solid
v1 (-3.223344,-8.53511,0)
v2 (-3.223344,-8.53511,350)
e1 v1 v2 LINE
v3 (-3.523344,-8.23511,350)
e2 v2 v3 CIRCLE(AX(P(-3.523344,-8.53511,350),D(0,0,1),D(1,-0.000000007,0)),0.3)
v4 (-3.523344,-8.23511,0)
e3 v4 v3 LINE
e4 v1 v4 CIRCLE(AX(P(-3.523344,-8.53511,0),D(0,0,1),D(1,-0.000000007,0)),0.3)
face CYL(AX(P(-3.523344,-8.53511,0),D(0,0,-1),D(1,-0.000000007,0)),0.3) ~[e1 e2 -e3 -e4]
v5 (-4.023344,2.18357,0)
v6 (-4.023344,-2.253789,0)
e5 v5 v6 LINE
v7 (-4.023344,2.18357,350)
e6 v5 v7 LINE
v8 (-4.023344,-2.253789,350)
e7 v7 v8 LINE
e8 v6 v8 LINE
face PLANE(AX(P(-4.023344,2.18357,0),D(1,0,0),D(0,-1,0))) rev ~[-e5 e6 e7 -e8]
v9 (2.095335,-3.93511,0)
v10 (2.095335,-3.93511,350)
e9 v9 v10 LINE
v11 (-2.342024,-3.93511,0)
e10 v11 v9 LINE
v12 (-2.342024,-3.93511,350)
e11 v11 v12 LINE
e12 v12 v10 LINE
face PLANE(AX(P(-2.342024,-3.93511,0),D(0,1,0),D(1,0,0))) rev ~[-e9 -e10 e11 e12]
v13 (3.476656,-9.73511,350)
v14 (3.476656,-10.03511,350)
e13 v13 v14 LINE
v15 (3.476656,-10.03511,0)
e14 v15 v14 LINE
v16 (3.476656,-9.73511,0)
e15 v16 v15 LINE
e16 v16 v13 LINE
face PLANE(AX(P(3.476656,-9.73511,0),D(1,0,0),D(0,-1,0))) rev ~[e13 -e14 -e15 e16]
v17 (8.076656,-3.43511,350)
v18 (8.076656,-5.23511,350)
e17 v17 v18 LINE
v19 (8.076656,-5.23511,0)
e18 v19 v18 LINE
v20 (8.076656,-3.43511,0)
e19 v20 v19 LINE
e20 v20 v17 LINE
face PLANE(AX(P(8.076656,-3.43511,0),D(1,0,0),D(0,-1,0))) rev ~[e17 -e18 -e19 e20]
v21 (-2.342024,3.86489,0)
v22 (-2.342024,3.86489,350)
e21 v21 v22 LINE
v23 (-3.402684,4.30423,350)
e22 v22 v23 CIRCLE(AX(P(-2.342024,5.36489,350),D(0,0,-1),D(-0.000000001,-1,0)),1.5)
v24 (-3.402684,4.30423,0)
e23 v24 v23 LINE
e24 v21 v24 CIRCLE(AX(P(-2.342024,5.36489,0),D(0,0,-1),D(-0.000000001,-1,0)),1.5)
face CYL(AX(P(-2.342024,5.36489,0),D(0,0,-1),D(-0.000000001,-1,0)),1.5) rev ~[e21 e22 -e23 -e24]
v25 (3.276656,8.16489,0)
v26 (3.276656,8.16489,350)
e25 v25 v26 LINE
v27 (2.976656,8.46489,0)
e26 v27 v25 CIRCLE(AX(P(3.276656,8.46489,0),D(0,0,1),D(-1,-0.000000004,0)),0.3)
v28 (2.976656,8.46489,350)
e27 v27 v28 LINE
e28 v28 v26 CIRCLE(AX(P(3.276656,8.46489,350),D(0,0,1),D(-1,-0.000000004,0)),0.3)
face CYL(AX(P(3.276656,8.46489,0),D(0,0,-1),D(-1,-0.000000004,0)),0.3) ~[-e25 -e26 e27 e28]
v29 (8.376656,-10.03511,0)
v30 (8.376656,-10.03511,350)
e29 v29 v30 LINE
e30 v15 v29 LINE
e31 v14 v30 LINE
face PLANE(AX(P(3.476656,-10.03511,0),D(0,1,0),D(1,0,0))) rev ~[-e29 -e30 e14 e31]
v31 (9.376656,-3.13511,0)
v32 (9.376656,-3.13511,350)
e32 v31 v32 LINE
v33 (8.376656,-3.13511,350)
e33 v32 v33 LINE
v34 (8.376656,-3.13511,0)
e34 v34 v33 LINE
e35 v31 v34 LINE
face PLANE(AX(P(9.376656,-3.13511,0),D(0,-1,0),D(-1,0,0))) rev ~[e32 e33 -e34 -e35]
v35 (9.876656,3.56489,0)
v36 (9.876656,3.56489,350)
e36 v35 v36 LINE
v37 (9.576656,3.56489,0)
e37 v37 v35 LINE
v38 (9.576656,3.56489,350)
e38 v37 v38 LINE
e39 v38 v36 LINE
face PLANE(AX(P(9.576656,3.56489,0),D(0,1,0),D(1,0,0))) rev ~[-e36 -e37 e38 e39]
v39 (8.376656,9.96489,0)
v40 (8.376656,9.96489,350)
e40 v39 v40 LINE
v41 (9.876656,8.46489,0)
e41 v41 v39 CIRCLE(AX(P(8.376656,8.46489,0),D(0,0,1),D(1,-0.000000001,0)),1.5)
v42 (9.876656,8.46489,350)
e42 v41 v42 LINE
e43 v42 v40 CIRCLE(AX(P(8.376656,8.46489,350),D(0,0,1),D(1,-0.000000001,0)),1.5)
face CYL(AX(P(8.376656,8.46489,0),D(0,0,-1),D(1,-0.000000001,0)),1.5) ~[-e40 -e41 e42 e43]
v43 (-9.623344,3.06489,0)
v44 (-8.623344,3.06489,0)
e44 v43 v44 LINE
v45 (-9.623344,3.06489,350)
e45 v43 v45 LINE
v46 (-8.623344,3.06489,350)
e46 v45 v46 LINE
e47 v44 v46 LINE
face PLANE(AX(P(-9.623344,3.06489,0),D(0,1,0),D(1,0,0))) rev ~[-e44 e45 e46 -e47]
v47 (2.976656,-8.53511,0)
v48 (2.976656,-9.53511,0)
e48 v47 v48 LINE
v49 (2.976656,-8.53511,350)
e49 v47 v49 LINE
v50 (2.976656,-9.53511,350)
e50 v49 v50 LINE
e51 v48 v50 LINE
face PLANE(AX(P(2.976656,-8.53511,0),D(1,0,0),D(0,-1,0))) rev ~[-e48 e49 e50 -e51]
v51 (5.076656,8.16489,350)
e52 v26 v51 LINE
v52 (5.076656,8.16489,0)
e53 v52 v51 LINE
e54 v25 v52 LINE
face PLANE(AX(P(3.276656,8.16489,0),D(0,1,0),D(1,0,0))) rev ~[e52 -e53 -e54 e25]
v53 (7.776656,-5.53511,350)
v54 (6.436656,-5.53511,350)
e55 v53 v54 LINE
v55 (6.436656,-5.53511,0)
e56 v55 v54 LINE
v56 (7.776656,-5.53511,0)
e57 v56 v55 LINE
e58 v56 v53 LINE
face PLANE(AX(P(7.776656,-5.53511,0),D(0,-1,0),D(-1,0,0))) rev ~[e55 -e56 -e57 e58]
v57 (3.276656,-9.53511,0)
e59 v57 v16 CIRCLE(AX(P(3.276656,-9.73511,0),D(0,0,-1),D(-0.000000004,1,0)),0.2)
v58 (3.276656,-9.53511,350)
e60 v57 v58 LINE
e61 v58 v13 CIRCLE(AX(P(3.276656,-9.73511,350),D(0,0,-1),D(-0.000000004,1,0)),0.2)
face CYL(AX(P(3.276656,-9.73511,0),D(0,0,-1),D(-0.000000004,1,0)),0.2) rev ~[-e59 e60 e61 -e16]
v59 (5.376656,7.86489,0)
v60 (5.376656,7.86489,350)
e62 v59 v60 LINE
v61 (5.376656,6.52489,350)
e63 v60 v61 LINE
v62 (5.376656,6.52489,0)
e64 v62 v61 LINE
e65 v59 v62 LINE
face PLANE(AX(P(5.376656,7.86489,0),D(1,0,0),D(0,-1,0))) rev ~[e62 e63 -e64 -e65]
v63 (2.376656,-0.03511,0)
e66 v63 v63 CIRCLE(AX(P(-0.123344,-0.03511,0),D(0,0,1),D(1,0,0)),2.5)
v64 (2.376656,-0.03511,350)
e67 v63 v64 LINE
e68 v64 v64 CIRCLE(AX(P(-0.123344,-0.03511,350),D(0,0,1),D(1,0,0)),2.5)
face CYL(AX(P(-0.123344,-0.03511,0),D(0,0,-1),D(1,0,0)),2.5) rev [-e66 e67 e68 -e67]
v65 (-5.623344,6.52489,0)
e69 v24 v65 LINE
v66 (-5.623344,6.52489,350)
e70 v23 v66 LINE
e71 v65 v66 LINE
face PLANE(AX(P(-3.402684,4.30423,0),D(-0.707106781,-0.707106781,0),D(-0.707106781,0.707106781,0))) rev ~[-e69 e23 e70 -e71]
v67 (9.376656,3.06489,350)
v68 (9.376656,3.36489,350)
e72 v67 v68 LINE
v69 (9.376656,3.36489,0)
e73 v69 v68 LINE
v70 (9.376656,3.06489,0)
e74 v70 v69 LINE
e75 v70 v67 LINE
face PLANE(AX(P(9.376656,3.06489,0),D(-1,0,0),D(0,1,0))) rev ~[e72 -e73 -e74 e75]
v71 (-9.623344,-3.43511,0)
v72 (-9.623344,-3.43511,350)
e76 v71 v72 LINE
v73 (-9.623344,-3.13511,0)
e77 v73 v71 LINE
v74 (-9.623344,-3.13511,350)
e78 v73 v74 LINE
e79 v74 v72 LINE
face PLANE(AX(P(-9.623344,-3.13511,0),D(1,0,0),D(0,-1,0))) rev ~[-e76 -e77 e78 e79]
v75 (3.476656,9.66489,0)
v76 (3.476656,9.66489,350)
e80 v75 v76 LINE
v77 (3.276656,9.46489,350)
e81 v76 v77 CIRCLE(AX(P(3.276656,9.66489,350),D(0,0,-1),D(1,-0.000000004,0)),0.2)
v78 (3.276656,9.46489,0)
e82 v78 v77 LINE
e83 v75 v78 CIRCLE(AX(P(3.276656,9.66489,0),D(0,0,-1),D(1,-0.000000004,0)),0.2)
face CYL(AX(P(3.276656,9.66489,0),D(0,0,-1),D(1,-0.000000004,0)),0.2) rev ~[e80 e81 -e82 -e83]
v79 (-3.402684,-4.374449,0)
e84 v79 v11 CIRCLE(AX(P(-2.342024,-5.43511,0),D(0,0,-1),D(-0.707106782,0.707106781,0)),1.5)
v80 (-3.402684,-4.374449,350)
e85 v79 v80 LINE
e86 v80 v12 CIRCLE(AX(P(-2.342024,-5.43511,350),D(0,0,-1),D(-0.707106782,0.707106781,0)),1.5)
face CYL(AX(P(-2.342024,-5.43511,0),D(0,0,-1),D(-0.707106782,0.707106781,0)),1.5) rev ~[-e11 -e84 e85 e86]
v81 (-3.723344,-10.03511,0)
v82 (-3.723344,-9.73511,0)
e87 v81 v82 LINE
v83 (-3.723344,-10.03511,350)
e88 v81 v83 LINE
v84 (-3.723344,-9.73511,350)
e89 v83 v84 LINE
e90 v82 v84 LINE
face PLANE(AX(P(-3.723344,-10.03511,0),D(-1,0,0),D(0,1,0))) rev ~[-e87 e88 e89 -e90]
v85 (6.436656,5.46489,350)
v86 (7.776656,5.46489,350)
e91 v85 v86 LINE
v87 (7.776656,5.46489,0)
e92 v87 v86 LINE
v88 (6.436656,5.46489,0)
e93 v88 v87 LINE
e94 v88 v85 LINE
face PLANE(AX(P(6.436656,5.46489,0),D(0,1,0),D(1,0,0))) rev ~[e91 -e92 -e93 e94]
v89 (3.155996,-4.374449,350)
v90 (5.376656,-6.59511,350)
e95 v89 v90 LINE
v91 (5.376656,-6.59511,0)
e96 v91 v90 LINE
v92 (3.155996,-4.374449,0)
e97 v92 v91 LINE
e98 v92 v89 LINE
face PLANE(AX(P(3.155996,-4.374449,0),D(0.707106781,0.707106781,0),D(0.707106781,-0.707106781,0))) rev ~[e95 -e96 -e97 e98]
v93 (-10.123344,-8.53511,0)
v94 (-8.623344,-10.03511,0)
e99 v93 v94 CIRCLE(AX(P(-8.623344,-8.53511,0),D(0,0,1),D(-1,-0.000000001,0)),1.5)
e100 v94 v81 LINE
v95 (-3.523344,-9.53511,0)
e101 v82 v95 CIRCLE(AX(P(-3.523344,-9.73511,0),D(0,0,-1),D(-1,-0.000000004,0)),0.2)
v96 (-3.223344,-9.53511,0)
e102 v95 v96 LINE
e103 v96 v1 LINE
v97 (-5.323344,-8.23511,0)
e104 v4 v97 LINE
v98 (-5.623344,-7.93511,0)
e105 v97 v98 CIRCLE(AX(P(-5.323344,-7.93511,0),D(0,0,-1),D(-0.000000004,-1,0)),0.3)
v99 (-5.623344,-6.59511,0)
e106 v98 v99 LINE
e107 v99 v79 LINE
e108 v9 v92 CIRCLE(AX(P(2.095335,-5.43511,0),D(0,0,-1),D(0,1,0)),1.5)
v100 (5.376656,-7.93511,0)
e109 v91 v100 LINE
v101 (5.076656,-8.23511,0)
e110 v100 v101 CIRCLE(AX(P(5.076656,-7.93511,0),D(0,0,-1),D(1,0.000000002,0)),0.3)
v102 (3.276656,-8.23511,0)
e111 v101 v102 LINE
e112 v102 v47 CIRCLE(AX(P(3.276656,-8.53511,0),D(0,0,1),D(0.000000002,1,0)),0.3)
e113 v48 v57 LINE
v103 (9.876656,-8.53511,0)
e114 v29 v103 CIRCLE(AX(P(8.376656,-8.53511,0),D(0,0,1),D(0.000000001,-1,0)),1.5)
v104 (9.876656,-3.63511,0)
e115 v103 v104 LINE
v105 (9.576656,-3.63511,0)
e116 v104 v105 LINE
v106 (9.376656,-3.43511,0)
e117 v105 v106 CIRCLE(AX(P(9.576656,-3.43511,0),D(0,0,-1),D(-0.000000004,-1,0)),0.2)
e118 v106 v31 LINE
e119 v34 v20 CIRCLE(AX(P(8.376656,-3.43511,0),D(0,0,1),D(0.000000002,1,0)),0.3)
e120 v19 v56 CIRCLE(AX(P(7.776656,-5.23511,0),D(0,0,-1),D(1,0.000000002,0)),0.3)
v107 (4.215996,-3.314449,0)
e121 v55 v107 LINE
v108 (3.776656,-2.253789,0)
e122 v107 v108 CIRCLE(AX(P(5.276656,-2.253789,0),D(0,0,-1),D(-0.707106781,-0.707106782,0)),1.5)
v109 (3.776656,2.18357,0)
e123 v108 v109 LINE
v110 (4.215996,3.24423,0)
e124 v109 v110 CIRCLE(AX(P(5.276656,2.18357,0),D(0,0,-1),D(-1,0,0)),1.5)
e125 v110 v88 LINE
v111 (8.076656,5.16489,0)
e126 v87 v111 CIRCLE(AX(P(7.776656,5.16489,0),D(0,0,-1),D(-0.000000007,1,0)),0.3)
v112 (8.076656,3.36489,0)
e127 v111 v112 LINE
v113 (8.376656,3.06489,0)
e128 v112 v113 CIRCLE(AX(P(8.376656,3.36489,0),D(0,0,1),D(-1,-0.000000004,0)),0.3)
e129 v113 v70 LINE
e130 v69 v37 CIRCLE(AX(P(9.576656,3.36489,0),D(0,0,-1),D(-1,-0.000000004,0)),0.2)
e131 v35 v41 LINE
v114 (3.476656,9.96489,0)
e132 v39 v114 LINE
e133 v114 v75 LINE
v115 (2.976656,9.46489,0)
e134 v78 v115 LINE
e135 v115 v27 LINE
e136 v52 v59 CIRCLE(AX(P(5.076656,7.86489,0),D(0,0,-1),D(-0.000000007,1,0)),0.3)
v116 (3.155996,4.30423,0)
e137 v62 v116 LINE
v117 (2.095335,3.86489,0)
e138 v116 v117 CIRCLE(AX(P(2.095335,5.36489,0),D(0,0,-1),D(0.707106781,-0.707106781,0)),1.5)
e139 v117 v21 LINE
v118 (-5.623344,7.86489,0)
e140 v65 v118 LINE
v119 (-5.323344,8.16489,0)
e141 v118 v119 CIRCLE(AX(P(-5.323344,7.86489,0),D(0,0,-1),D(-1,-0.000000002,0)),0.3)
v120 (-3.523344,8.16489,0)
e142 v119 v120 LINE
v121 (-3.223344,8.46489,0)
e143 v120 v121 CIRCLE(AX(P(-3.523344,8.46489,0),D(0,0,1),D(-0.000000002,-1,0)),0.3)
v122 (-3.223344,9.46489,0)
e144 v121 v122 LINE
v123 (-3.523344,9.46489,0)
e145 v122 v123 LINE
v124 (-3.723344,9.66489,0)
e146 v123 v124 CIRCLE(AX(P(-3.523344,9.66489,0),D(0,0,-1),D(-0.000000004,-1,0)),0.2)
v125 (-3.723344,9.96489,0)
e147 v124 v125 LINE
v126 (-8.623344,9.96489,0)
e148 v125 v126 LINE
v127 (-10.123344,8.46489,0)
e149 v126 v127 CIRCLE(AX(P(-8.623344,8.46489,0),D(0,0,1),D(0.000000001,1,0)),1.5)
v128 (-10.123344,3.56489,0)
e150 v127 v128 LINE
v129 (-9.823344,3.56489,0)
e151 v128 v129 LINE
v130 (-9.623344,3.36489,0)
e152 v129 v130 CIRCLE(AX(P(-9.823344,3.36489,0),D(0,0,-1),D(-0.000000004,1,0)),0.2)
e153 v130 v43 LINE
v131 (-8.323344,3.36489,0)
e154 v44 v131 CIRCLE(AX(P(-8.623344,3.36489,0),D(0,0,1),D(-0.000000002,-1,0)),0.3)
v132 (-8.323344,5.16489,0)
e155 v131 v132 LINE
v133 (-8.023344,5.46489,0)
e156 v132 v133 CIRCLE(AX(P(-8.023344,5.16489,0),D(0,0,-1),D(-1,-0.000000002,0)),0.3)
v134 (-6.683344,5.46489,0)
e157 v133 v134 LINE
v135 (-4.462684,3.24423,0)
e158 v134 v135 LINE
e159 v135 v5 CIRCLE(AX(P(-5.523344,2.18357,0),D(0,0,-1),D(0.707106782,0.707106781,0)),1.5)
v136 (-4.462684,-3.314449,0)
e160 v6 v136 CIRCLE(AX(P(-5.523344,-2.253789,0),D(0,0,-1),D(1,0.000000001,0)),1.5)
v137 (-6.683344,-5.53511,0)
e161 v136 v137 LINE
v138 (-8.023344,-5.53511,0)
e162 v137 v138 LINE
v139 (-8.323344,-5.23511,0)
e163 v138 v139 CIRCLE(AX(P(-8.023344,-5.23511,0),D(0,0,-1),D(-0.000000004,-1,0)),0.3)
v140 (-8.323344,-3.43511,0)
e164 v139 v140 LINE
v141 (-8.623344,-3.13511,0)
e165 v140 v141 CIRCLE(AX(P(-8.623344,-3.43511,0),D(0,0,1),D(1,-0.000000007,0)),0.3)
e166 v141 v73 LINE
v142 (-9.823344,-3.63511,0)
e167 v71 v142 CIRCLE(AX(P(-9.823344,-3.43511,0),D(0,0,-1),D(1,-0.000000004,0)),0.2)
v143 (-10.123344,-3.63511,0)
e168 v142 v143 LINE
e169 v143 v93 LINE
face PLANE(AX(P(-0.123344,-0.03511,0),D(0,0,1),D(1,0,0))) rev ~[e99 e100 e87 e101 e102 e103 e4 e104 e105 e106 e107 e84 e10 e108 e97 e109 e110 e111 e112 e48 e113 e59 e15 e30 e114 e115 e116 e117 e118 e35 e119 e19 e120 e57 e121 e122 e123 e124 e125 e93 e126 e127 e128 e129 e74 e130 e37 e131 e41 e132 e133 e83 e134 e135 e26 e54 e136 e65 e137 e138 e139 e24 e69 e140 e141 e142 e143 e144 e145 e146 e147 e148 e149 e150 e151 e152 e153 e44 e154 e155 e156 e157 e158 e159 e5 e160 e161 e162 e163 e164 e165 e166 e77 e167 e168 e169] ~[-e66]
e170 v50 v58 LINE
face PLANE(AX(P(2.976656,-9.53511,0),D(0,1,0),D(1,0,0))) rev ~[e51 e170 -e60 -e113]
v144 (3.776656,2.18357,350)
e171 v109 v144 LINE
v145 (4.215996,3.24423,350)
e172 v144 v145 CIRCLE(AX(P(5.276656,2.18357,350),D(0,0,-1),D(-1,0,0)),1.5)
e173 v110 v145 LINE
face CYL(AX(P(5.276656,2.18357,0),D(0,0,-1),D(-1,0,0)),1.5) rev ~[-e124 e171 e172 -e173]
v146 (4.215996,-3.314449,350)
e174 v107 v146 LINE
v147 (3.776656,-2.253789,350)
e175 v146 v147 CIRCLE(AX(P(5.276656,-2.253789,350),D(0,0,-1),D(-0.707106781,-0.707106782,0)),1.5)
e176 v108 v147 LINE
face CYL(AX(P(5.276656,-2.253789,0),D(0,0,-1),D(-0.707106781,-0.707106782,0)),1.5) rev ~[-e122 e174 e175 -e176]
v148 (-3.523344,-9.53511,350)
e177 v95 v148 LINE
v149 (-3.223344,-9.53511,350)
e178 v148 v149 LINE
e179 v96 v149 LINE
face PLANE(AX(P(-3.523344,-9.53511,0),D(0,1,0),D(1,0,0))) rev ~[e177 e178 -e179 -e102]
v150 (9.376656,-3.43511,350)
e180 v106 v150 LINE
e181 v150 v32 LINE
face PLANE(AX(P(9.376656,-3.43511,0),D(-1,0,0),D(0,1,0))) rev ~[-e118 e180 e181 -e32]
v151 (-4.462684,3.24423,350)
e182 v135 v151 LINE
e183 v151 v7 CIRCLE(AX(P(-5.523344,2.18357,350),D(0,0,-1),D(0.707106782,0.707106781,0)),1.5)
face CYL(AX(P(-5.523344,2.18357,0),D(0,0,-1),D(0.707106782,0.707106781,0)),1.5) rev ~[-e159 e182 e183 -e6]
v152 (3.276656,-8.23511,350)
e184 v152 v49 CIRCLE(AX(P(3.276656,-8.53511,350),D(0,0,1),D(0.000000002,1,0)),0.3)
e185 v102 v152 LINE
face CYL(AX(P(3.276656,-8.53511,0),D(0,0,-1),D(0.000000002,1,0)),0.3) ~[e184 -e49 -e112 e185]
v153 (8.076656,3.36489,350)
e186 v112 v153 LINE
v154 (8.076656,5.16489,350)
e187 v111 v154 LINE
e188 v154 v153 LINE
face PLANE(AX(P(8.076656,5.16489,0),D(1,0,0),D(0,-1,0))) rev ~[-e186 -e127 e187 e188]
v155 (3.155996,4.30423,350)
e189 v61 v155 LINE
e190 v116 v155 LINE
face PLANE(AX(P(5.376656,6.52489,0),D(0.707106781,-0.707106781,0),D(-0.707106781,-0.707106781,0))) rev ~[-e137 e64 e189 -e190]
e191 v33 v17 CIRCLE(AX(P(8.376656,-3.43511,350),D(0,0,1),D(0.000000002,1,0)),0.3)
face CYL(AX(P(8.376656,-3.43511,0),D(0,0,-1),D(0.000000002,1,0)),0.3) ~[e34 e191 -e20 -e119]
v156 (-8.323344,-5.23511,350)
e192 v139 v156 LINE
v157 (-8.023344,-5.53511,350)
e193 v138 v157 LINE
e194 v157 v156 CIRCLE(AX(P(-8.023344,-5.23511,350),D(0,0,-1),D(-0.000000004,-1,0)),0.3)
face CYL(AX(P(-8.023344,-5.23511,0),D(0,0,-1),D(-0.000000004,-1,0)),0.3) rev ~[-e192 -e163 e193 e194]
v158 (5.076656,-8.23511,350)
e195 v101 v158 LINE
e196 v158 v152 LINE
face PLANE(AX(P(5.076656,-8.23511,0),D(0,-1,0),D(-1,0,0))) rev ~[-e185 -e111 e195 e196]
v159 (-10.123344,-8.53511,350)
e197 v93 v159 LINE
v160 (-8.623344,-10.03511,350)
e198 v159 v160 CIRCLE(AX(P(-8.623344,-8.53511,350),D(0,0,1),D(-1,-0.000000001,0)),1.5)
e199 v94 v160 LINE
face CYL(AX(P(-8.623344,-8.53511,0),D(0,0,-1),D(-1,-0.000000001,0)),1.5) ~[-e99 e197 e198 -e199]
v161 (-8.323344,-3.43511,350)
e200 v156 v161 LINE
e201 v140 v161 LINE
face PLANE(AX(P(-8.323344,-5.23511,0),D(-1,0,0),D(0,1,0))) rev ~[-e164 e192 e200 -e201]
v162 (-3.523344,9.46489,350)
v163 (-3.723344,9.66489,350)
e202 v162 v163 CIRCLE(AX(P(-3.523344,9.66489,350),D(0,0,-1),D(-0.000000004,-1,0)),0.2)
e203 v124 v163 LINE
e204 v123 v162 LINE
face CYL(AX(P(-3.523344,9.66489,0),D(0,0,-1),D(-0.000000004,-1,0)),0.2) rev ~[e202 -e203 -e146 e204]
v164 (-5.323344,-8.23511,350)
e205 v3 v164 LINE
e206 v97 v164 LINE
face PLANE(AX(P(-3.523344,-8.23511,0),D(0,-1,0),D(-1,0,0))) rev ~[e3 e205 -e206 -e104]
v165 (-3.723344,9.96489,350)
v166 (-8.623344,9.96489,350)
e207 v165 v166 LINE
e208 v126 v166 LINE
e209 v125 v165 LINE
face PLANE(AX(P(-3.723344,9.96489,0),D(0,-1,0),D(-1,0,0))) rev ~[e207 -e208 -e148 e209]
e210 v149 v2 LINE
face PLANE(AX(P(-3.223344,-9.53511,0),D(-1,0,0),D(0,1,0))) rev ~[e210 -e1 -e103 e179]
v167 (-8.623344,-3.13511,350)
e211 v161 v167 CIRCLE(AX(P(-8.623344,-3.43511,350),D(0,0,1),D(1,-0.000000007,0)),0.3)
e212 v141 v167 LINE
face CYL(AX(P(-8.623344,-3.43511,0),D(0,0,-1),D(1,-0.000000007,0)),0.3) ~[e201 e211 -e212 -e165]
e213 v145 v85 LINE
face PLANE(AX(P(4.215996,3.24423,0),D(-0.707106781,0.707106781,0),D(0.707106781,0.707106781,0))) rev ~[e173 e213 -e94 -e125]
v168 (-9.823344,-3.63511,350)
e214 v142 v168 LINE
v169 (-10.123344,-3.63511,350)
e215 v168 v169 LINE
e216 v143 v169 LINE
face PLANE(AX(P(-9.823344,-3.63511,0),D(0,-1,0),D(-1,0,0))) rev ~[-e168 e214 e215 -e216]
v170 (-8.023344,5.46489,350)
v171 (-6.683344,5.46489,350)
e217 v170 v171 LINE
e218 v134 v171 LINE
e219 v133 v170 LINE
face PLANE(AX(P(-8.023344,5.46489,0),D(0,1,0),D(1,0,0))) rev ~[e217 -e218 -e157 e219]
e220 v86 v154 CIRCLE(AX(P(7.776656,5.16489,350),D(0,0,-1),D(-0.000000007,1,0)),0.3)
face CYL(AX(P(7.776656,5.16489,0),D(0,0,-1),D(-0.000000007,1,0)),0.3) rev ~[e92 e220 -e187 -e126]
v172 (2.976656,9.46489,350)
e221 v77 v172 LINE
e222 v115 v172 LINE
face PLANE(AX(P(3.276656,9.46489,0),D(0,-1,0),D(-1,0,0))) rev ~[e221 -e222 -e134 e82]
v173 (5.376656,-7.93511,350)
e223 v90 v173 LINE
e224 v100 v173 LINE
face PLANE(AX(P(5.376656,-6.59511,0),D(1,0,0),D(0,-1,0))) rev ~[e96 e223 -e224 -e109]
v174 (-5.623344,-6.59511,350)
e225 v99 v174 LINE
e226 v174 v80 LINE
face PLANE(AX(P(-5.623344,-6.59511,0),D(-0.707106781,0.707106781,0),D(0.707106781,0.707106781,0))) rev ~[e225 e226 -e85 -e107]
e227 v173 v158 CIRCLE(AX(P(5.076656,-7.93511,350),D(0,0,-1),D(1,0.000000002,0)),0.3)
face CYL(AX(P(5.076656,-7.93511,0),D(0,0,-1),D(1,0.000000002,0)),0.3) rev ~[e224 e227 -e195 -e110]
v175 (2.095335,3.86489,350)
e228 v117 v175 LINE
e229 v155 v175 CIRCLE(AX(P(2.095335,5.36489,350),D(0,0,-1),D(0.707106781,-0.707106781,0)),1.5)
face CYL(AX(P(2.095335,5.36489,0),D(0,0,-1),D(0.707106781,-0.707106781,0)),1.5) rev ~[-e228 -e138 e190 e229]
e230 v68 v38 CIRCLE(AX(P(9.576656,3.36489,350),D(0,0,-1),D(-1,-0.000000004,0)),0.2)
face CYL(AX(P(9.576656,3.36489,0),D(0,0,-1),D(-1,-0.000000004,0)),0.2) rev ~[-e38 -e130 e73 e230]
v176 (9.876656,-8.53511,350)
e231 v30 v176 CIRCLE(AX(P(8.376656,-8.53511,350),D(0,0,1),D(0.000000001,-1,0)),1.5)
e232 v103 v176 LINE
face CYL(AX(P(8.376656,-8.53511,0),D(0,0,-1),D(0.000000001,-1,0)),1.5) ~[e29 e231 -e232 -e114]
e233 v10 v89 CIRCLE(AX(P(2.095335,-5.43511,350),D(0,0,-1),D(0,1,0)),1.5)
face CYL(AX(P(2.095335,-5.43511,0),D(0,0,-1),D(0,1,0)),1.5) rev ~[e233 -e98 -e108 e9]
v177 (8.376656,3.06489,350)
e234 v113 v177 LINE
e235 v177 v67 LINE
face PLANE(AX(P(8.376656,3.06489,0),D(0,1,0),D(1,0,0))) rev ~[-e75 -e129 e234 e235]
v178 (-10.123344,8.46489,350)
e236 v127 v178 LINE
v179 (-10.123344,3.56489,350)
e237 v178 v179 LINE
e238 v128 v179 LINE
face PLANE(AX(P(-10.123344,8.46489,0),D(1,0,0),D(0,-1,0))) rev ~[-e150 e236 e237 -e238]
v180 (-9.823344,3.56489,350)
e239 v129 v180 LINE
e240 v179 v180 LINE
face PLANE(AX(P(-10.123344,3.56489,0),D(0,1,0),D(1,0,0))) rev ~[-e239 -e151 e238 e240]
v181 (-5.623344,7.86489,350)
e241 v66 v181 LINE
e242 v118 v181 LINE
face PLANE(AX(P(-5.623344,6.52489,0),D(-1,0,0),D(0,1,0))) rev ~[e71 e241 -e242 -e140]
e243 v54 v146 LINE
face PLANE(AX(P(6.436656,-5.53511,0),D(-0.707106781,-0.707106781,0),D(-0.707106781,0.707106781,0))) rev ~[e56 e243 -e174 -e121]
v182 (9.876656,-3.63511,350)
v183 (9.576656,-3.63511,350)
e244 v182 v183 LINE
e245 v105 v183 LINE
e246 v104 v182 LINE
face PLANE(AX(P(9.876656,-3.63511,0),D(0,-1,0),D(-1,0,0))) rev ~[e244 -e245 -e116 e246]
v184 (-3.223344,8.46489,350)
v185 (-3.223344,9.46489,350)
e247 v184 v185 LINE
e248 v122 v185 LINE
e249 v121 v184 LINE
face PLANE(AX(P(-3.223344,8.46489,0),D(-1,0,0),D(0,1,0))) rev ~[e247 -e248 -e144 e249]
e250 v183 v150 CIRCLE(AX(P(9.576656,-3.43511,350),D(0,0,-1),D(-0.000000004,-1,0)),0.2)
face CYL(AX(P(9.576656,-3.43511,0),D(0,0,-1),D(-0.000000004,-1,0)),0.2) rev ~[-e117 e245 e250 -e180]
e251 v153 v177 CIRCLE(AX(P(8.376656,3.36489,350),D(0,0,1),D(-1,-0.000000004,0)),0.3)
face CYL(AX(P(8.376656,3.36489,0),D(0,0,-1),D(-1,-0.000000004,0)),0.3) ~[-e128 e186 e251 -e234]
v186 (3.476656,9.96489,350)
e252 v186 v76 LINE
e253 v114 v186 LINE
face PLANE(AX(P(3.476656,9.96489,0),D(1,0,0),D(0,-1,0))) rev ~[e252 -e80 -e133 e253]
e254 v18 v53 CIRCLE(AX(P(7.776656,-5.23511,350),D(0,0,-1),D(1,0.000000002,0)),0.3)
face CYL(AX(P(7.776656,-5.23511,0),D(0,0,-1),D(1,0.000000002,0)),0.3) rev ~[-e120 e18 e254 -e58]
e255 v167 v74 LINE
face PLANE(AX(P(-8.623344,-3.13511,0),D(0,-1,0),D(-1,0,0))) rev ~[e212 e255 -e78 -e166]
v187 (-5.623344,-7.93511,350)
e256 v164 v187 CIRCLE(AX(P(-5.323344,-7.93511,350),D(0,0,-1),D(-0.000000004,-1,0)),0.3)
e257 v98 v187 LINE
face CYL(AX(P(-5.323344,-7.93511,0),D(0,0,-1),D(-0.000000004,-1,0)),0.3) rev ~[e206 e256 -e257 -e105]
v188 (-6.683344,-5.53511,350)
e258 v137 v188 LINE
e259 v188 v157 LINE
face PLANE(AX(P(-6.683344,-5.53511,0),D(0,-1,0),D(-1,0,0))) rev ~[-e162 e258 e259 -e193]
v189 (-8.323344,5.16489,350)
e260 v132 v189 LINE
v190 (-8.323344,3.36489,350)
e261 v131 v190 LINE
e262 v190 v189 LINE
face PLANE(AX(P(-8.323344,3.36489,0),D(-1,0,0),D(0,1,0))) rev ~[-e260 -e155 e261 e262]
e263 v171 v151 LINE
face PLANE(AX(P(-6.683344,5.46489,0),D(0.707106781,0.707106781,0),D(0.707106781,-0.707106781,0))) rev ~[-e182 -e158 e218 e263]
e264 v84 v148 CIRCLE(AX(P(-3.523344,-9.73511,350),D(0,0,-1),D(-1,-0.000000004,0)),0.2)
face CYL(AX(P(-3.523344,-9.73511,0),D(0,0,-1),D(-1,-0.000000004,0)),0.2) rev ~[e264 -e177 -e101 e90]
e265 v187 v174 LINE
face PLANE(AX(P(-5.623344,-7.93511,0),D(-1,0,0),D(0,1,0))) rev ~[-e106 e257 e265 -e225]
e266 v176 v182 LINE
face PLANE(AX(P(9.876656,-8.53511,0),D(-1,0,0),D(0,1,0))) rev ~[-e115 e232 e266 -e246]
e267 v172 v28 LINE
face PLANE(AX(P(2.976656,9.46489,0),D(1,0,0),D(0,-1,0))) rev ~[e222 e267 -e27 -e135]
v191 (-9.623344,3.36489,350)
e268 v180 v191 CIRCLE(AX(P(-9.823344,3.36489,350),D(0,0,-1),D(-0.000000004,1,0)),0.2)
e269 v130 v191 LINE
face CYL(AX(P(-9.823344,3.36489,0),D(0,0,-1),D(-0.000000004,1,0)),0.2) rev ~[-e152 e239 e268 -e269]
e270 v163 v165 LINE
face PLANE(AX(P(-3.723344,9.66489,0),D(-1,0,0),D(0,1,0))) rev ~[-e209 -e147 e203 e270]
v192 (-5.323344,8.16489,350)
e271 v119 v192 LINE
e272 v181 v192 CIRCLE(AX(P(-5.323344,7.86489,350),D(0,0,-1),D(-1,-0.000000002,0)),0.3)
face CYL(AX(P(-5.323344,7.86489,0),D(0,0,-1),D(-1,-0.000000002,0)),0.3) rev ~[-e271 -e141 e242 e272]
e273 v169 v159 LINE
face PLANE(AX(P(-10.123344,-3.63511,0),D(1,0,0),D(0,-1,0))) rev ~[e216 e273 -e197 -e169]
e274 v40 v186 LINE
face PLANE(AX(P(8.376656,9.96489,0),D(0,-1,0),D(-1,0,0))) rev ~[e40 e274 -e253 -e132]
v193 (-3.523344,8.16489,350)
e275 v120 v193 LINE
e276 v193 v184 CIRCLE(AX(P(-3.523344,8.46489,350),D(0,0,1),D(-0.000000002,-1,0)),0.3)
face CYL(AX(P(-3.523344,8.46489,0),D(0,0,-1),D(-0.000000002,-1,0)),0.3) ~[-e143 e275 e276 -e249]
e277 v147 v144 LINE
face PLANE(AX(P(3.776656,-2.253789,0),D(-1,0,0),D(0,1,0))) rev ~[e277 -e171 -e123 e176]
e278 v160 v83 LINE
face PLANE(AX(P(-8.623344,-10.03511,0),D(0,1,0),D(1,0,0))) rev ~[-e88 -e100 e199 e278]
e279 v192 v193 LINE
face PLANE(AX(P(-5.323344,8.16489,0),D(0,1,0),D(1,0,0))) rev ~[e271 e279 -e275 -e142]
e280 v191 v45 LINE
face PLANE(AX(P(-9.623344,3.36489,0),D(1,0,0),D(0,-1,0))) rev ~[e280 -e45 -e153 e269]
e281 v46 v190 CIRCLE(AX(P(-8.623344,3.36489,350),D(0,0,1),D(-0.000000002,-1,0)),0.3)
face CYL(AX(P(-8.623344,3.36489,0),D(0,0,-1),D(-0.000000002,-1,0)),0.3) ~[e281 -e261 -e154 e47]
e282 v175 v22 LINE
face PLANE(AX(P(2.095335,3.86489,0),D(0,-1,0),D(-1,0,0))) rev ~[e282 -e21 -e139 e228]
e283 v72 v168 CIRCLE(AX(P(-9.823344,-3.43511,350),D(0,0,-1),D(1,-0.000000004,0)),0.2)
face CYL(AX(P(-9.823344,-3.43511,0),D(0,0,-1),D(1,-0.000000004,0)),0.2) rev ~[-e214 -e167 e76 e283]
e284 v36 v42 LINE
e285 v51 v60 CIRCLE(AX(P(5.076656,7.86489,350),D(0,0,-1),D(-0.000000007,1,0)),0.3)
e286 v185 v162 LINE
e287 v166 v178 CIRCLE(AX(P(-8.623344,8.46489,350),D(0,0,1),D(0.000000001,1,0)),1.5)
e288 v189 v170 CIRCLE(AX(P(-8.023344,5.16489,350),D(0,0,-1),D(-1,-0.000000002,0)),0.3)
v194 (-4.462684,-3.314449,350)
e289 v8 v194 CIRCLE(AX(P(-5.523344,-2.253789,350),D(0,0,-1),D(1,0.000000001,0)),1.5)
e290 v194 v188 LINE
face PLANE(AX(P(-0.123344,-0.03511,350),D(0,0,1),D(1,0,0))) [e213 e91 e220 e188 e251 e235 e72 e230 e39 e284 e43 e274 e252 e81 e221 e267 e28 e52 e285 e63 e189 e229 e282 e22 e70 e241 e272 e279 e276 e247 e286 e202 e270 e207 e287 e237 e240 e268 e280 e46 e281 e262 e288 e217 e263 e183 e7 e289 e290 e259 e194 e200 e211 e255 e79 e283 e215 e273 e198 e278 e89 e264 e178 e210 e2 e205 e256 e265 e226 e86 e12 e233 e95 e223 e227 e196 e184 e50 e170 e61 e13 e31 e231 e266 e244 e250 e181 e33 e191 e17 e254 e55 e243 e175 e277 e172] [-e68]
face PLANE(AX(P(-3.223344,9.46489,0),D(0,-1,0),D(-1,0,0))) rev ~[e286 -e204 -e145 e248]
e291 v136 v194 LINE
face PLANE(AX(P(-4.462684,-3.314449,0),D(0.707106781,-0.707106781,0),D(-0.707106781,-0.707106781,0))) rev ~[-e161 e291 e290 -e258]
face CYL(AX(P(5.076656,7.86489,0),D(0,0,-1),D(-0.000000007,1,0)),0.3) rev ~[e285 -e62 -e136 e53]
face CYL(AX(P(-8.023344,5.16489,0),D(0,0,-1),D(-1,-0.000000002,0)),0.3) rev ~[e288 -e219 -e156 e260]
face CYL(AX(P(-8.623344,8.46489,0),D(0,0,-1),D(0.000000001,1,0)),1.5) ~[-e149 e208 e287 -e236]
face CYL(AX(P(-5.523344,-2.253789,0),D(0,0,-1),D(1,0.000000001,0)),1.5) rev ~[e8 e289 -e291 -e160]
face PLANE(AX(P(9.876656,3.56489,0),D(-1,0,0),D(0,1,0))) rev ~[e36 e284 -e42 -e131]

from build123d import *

# Parameters (mm, degrees)
SKETCH_1_R      = 2.5
EXTRUDE_1_DEPTH = 350


with BuildPart() as part:
    # 草图1 → 凸台-拉伸1 (new body)
    with BuildSketch(Plane.XY):
        with BuildLine():
            Line((4.215995631, 3.244230202), (6.436655803, 5.464890373))
            Line((6.436655803, 5.464890373), (7.776655803, 5.464890373))
            ThreePointArc((7.776655803, 5.464890373), (7.988787838, 5.377022408), (8.076655803, 5.164890373))
            Line((8.076655803, 5.164890373), (8.076655803, 3.364890373))
            ThreePointArc((8.076655803, 3.364890373), (8.164523769, 3.152758339), (8.376655803, 3.064890373))
            Line((8.376655803, 3.064890373), (9.376655803, 3.064890373))
            Line((9.376655803, 3.064890373), (9.376655803, 3.364890373))
            ThreePointArc((9.376655803, 3.364890373), (9.435234447, 3.50631173), (9.576655803, 3.564890373))
            Line((9.576655803, 3.564890373), (9.876655803, 3.564890373))
            Line((9.876655803, 3.564890373), (9.876655803, 8.464890373))
            ThreePointArc((9.876655803, 8.464890373), (9.437315975, 9.525550545), (8.376655803, 9.964890373))
            Line((8.376655803, 9.964890373), (3.476655803, 9.964890373))
            Line((3.476655803, 9.964890373), (3.476655803, 9.664890373))
            ThreePointArc((3.476655803, 9.664890373), (3.418077159, 9.523469017), (3.276655803, 9.464890373))
            Line((3.276655803, 9.464890373), (2.976655803, 9.464890373))
            Line((2.976655803, 9.464890373), (2.976655803, 8.464890373))
            ThreePointArc((2.976655803, 8.464890373), (3.064523769, 8.252758339), (3.276655803, 8.164890373))
            Line((3.276655803, 8.164890373), (5.076655803, 8.164890373))
            ThreePointArc((5.076655803, 8.164890373), (5.288787838, 8.077022408), (5.376655803, 7.864890373))
            Line((5.376655803, 7.864890373), (5.376655803, 6.524890373))
            Line((5.376655803, 6.524890373), (3.155995631, 4.304230202))
            ThreePointArc((3.155995631, 4.304230202), (2.669360608, 3.979071075), (2.09533546, 3.864890373))
            Line((2.09533546, 3.864890373), (-2.342023853, 3.864890373))
            ThreePointArc((-2.342023853, 3.864890373), (-2.916049002, 3.979071075), (-3.402684025, 4.304230202))
            Line((-3.402684025, 4.304230202), (-5.623344197, 6.524890373))
            Line((-5.623344197, 6.524890373), (-5.623344197, 7.864890373))
            ThreePointArc((-5.623344197, 7.864890373), (-5.535476231, 8.077022408), (-5.323344197, 8.164890373))
            Line((-5.323344197, 8.164890373), (-3.523344197, 8.164890373))
            ThreePointArc((-3.523344197, 8.164890373), (-3.311212162, 8.252758339), (-3.223344197, 8.464890373))
            Line((-3.223344197, 8.464890373), (-3.223344197, 9.464890373))
            Line((-3.223344197, 9.464890373), (-3.523344197, 9.464890373))
            ThreePointArc((-3.523344197, 9.464890373), (-3.664765553, 9.523469017), (-3.723344197, 9.664890373))
            Line((-3.723344197, 9.664890373), (-3.723344197, 9.964890373))
            Line((-3.723344197, 9.964890373), (-8.623344197, 9.964890373))
            ThreePointArc((-8.623344197, 9.964890373), (-9.684004369, 9.525550545), (-10.123344197, 8.464890373))
            Line((-10.123344197, 8.464890373), (-10.123344197, 3.564890373))
            Line((-10.123344197, 3.564890373), (-9.823344197, 3.564890373))
            ThreePointArc((-9.823344197, 3.564890373), (-9.681922841, 3.50631173), (-9.623344197, 3.364890373))
            Line((-9.623344197, 3.364890373), (-9.623344197, 3.064890373))
            Line((-9.623344197, 3.064890373), (-8.623344197, 3.064890373))
            ThreePointArc((-8.623344197, 3.064890373), (-8.411212162, 3.152758339), (-8.323344197, 3.364890373))
            Line((-8.323344197, 3.364890373), (-8.323344197, 5.164890373))
            ThreePointArc((-8.323344197, 5.164890373), (-8.235476231, 5.377022408), (-8.023344197, 5.464890373))
            Line((-8.023344197, 5.464890373), (-6.683344197, 5.464890373))
            Line((-6.683344197, 5.464890373), (-4.462684025, 3.244230202))
            ThreePointArc((-4.462684025, 3.244230202), (-4.137524898, 2.757595178), (-4.023344197, 2.18357003))
            Line((-4.023344197, 2.18357003), (-4.023344197, -2.253789283))
            ThreePointArc((-4.023344197, -2.253789283), (-4.137524898, -2.827814432), (-4.462684025, -3.314449455))
            Line((-4.462684025, -3.314449455), (-6.683344197, -5.535109627))
            Line((-6.683344197, -5.535109627), (-8.023344197, -5.535109627))
            ThreePointArc((-8.023344197, -5.535109627), (-8.235476231, -5.447241661), (-8.323344197, -5.235109627))
            Line((-8.323344197, -5.235109627), (-8.323344197, -3.435109627))
            ThreePointArc((-8.323344197, -3.435109627), (-8.411212162, -3.222977592), (-8.623344197, -3.135109627))
            Line((-8.623344197, -3.135109627), (-9.623344197, -3.135109627))
            Line((-9.623344197, -3.135109627), (-9.623344197, -3.435109627))
            ThreePointArc((-9.623344197, -3.435109627), (-9.681922841, -3.576530983), (-9.823344197, -3.635109627))
            Line((-9.823344197, -3.635109627), (-10.123344197, -3.635109627))
            Line((-10.123344197, -3.635109627), (-10.123344197, -8.535109627))
            ThreePointArc((-10.123344197, -8.535109627), (-9.684004369, -9.595769798), (-8.623344197, -10.035109627))
            Line((-8.623344197, -10.035109627), (-3.723344197, -10.035109627))
            Line((-3.723344197, -10.035109627), (-3.723344197, -9.735109627))
            ThreePointArc((-3.723344197, -9.735109627), (-3.664765553, -9.59368827), (-3.523344197, -9.535109627))
            Line((-3.523344197, -9.535109627), (-3.223344197, -9.535109627))
            Line((-3.223344197, -9.535109627), (-3.223344197, -8.535109627))
            ThreePointArc((-3.223344197, -8.535109627), (-3.311212162, -8.322977592), (-3.523344197, -8.235109627))
            Line((-3.523344197, -8.235109627), (-5.323344197, -8.235109627))
            ThreePointArc((-5.323344197, -8.235109627), (-5.535476231, -8.147241661), (-5.623344197, -7.935109627))
            Line((-5.623344197, -7.935109627), (-5.623344197, -6.595109627))
            Line((-5.623344197, -6.595109627), (-3.402684025, -4.374449455))
            ThreePointArc((-3.402684025, -4.374449455), (-2.916049002, -4.049290328), (-2.342023853, -3.935109627))
            Line((-2.342023853, -3.935109627), (2.09533546, -3.935109627))
            ThreePointArc((2.09533546, -3.935109627), (2.669360608, -4.049290328), (3.155995631, -4.374449455))
            Line((3.155995631, -4.374449455), (5.376655803, -6.595109627))
            Line((5.376655803, -6.595109627), (5.376655803, -7.935109627))
            ThreePointArc((5.376655803, -7.935109627), (5.288787838, -8.147241661), (5.076655803, -8.235109627))
            Line((5.076655803, -8.235109627), (3.276655803, -8.235109627))
            ThreePointArc((3.276655803, -8.235109627), (3.064523769, -8.322977592), (2.976655803, -8.535109627))
            Line((2.976655803, -8.535109627), (2.976655803, -9.535109627))
            Line((2.976655803, -9.535109627), (3.276655803, -9.535109627))
            ThreePointArc((3.276655803, -9.535109627), (3.418077159, -9.59368827), (3.476655803, -9.735109627))
            Line((3.476655803, -9.735109627), (3.476655803, -10.035109627))
            Line((3.476655803, -10.035109627), (8.376655803, -10.035109627))
            ThreePointArc((8.376655803, -10.035109627), (9.437315975, -9.595769798), (9.876655803, -8.535109627))
            Line((9.876655803, -8.535109627), (9.876655803, -3.635109627))
            Line((9.876655803, -3.635109627), (9.576655803, -3.635109627))
            ThreePointArc((9.576655803, -3.635109627), (9.435234447, -3.576530983), (9.376655803, -3.435109627))
            Line((9.376655803, -3.435109627), (9.376655803, -3.135109627))
            Line((9.376655803, -3.135109627), (8.376655803, -3.135109627))
            ThreePointArc((8.376655803, -3.135109627), (8.164523769, -3.222977592), (8.076655803, -3.435109627))
            Line((8.076655803, -3.435109627), (8.076655803, -5.235109627))
            ThreePointArc((8.076655803, -5.235109627), (7.988787838, -5.447241661), (7.776655803, -5.535109627))
            Line((7.776655803, -5.535109627), (6.436655803, -5.535109627))
            Line((6.436655803, -5.535109627), (4.215995631, -3.314449455))
            ThreePointArc((4.215995631, -3.314449455), (3.890836504, -2.827814432), (3.776655803, -2.253789283))
            Line((3.776655803, -2.253789283), (3.776655803, 2.18357003))
            ThreePointArc((3.776655803, 2.18357003), (3.890836504, 2.757595178), (4.215995631, 3.244230202))
        make_face()
        with Locations((-0.123344197, -0.035109627)):
            Circle(SKETCH_1_R, mode=Mode.SUBTRACT)
    extrude(amount=EXTRUDE_1_DEPTH)


solid = part.part
